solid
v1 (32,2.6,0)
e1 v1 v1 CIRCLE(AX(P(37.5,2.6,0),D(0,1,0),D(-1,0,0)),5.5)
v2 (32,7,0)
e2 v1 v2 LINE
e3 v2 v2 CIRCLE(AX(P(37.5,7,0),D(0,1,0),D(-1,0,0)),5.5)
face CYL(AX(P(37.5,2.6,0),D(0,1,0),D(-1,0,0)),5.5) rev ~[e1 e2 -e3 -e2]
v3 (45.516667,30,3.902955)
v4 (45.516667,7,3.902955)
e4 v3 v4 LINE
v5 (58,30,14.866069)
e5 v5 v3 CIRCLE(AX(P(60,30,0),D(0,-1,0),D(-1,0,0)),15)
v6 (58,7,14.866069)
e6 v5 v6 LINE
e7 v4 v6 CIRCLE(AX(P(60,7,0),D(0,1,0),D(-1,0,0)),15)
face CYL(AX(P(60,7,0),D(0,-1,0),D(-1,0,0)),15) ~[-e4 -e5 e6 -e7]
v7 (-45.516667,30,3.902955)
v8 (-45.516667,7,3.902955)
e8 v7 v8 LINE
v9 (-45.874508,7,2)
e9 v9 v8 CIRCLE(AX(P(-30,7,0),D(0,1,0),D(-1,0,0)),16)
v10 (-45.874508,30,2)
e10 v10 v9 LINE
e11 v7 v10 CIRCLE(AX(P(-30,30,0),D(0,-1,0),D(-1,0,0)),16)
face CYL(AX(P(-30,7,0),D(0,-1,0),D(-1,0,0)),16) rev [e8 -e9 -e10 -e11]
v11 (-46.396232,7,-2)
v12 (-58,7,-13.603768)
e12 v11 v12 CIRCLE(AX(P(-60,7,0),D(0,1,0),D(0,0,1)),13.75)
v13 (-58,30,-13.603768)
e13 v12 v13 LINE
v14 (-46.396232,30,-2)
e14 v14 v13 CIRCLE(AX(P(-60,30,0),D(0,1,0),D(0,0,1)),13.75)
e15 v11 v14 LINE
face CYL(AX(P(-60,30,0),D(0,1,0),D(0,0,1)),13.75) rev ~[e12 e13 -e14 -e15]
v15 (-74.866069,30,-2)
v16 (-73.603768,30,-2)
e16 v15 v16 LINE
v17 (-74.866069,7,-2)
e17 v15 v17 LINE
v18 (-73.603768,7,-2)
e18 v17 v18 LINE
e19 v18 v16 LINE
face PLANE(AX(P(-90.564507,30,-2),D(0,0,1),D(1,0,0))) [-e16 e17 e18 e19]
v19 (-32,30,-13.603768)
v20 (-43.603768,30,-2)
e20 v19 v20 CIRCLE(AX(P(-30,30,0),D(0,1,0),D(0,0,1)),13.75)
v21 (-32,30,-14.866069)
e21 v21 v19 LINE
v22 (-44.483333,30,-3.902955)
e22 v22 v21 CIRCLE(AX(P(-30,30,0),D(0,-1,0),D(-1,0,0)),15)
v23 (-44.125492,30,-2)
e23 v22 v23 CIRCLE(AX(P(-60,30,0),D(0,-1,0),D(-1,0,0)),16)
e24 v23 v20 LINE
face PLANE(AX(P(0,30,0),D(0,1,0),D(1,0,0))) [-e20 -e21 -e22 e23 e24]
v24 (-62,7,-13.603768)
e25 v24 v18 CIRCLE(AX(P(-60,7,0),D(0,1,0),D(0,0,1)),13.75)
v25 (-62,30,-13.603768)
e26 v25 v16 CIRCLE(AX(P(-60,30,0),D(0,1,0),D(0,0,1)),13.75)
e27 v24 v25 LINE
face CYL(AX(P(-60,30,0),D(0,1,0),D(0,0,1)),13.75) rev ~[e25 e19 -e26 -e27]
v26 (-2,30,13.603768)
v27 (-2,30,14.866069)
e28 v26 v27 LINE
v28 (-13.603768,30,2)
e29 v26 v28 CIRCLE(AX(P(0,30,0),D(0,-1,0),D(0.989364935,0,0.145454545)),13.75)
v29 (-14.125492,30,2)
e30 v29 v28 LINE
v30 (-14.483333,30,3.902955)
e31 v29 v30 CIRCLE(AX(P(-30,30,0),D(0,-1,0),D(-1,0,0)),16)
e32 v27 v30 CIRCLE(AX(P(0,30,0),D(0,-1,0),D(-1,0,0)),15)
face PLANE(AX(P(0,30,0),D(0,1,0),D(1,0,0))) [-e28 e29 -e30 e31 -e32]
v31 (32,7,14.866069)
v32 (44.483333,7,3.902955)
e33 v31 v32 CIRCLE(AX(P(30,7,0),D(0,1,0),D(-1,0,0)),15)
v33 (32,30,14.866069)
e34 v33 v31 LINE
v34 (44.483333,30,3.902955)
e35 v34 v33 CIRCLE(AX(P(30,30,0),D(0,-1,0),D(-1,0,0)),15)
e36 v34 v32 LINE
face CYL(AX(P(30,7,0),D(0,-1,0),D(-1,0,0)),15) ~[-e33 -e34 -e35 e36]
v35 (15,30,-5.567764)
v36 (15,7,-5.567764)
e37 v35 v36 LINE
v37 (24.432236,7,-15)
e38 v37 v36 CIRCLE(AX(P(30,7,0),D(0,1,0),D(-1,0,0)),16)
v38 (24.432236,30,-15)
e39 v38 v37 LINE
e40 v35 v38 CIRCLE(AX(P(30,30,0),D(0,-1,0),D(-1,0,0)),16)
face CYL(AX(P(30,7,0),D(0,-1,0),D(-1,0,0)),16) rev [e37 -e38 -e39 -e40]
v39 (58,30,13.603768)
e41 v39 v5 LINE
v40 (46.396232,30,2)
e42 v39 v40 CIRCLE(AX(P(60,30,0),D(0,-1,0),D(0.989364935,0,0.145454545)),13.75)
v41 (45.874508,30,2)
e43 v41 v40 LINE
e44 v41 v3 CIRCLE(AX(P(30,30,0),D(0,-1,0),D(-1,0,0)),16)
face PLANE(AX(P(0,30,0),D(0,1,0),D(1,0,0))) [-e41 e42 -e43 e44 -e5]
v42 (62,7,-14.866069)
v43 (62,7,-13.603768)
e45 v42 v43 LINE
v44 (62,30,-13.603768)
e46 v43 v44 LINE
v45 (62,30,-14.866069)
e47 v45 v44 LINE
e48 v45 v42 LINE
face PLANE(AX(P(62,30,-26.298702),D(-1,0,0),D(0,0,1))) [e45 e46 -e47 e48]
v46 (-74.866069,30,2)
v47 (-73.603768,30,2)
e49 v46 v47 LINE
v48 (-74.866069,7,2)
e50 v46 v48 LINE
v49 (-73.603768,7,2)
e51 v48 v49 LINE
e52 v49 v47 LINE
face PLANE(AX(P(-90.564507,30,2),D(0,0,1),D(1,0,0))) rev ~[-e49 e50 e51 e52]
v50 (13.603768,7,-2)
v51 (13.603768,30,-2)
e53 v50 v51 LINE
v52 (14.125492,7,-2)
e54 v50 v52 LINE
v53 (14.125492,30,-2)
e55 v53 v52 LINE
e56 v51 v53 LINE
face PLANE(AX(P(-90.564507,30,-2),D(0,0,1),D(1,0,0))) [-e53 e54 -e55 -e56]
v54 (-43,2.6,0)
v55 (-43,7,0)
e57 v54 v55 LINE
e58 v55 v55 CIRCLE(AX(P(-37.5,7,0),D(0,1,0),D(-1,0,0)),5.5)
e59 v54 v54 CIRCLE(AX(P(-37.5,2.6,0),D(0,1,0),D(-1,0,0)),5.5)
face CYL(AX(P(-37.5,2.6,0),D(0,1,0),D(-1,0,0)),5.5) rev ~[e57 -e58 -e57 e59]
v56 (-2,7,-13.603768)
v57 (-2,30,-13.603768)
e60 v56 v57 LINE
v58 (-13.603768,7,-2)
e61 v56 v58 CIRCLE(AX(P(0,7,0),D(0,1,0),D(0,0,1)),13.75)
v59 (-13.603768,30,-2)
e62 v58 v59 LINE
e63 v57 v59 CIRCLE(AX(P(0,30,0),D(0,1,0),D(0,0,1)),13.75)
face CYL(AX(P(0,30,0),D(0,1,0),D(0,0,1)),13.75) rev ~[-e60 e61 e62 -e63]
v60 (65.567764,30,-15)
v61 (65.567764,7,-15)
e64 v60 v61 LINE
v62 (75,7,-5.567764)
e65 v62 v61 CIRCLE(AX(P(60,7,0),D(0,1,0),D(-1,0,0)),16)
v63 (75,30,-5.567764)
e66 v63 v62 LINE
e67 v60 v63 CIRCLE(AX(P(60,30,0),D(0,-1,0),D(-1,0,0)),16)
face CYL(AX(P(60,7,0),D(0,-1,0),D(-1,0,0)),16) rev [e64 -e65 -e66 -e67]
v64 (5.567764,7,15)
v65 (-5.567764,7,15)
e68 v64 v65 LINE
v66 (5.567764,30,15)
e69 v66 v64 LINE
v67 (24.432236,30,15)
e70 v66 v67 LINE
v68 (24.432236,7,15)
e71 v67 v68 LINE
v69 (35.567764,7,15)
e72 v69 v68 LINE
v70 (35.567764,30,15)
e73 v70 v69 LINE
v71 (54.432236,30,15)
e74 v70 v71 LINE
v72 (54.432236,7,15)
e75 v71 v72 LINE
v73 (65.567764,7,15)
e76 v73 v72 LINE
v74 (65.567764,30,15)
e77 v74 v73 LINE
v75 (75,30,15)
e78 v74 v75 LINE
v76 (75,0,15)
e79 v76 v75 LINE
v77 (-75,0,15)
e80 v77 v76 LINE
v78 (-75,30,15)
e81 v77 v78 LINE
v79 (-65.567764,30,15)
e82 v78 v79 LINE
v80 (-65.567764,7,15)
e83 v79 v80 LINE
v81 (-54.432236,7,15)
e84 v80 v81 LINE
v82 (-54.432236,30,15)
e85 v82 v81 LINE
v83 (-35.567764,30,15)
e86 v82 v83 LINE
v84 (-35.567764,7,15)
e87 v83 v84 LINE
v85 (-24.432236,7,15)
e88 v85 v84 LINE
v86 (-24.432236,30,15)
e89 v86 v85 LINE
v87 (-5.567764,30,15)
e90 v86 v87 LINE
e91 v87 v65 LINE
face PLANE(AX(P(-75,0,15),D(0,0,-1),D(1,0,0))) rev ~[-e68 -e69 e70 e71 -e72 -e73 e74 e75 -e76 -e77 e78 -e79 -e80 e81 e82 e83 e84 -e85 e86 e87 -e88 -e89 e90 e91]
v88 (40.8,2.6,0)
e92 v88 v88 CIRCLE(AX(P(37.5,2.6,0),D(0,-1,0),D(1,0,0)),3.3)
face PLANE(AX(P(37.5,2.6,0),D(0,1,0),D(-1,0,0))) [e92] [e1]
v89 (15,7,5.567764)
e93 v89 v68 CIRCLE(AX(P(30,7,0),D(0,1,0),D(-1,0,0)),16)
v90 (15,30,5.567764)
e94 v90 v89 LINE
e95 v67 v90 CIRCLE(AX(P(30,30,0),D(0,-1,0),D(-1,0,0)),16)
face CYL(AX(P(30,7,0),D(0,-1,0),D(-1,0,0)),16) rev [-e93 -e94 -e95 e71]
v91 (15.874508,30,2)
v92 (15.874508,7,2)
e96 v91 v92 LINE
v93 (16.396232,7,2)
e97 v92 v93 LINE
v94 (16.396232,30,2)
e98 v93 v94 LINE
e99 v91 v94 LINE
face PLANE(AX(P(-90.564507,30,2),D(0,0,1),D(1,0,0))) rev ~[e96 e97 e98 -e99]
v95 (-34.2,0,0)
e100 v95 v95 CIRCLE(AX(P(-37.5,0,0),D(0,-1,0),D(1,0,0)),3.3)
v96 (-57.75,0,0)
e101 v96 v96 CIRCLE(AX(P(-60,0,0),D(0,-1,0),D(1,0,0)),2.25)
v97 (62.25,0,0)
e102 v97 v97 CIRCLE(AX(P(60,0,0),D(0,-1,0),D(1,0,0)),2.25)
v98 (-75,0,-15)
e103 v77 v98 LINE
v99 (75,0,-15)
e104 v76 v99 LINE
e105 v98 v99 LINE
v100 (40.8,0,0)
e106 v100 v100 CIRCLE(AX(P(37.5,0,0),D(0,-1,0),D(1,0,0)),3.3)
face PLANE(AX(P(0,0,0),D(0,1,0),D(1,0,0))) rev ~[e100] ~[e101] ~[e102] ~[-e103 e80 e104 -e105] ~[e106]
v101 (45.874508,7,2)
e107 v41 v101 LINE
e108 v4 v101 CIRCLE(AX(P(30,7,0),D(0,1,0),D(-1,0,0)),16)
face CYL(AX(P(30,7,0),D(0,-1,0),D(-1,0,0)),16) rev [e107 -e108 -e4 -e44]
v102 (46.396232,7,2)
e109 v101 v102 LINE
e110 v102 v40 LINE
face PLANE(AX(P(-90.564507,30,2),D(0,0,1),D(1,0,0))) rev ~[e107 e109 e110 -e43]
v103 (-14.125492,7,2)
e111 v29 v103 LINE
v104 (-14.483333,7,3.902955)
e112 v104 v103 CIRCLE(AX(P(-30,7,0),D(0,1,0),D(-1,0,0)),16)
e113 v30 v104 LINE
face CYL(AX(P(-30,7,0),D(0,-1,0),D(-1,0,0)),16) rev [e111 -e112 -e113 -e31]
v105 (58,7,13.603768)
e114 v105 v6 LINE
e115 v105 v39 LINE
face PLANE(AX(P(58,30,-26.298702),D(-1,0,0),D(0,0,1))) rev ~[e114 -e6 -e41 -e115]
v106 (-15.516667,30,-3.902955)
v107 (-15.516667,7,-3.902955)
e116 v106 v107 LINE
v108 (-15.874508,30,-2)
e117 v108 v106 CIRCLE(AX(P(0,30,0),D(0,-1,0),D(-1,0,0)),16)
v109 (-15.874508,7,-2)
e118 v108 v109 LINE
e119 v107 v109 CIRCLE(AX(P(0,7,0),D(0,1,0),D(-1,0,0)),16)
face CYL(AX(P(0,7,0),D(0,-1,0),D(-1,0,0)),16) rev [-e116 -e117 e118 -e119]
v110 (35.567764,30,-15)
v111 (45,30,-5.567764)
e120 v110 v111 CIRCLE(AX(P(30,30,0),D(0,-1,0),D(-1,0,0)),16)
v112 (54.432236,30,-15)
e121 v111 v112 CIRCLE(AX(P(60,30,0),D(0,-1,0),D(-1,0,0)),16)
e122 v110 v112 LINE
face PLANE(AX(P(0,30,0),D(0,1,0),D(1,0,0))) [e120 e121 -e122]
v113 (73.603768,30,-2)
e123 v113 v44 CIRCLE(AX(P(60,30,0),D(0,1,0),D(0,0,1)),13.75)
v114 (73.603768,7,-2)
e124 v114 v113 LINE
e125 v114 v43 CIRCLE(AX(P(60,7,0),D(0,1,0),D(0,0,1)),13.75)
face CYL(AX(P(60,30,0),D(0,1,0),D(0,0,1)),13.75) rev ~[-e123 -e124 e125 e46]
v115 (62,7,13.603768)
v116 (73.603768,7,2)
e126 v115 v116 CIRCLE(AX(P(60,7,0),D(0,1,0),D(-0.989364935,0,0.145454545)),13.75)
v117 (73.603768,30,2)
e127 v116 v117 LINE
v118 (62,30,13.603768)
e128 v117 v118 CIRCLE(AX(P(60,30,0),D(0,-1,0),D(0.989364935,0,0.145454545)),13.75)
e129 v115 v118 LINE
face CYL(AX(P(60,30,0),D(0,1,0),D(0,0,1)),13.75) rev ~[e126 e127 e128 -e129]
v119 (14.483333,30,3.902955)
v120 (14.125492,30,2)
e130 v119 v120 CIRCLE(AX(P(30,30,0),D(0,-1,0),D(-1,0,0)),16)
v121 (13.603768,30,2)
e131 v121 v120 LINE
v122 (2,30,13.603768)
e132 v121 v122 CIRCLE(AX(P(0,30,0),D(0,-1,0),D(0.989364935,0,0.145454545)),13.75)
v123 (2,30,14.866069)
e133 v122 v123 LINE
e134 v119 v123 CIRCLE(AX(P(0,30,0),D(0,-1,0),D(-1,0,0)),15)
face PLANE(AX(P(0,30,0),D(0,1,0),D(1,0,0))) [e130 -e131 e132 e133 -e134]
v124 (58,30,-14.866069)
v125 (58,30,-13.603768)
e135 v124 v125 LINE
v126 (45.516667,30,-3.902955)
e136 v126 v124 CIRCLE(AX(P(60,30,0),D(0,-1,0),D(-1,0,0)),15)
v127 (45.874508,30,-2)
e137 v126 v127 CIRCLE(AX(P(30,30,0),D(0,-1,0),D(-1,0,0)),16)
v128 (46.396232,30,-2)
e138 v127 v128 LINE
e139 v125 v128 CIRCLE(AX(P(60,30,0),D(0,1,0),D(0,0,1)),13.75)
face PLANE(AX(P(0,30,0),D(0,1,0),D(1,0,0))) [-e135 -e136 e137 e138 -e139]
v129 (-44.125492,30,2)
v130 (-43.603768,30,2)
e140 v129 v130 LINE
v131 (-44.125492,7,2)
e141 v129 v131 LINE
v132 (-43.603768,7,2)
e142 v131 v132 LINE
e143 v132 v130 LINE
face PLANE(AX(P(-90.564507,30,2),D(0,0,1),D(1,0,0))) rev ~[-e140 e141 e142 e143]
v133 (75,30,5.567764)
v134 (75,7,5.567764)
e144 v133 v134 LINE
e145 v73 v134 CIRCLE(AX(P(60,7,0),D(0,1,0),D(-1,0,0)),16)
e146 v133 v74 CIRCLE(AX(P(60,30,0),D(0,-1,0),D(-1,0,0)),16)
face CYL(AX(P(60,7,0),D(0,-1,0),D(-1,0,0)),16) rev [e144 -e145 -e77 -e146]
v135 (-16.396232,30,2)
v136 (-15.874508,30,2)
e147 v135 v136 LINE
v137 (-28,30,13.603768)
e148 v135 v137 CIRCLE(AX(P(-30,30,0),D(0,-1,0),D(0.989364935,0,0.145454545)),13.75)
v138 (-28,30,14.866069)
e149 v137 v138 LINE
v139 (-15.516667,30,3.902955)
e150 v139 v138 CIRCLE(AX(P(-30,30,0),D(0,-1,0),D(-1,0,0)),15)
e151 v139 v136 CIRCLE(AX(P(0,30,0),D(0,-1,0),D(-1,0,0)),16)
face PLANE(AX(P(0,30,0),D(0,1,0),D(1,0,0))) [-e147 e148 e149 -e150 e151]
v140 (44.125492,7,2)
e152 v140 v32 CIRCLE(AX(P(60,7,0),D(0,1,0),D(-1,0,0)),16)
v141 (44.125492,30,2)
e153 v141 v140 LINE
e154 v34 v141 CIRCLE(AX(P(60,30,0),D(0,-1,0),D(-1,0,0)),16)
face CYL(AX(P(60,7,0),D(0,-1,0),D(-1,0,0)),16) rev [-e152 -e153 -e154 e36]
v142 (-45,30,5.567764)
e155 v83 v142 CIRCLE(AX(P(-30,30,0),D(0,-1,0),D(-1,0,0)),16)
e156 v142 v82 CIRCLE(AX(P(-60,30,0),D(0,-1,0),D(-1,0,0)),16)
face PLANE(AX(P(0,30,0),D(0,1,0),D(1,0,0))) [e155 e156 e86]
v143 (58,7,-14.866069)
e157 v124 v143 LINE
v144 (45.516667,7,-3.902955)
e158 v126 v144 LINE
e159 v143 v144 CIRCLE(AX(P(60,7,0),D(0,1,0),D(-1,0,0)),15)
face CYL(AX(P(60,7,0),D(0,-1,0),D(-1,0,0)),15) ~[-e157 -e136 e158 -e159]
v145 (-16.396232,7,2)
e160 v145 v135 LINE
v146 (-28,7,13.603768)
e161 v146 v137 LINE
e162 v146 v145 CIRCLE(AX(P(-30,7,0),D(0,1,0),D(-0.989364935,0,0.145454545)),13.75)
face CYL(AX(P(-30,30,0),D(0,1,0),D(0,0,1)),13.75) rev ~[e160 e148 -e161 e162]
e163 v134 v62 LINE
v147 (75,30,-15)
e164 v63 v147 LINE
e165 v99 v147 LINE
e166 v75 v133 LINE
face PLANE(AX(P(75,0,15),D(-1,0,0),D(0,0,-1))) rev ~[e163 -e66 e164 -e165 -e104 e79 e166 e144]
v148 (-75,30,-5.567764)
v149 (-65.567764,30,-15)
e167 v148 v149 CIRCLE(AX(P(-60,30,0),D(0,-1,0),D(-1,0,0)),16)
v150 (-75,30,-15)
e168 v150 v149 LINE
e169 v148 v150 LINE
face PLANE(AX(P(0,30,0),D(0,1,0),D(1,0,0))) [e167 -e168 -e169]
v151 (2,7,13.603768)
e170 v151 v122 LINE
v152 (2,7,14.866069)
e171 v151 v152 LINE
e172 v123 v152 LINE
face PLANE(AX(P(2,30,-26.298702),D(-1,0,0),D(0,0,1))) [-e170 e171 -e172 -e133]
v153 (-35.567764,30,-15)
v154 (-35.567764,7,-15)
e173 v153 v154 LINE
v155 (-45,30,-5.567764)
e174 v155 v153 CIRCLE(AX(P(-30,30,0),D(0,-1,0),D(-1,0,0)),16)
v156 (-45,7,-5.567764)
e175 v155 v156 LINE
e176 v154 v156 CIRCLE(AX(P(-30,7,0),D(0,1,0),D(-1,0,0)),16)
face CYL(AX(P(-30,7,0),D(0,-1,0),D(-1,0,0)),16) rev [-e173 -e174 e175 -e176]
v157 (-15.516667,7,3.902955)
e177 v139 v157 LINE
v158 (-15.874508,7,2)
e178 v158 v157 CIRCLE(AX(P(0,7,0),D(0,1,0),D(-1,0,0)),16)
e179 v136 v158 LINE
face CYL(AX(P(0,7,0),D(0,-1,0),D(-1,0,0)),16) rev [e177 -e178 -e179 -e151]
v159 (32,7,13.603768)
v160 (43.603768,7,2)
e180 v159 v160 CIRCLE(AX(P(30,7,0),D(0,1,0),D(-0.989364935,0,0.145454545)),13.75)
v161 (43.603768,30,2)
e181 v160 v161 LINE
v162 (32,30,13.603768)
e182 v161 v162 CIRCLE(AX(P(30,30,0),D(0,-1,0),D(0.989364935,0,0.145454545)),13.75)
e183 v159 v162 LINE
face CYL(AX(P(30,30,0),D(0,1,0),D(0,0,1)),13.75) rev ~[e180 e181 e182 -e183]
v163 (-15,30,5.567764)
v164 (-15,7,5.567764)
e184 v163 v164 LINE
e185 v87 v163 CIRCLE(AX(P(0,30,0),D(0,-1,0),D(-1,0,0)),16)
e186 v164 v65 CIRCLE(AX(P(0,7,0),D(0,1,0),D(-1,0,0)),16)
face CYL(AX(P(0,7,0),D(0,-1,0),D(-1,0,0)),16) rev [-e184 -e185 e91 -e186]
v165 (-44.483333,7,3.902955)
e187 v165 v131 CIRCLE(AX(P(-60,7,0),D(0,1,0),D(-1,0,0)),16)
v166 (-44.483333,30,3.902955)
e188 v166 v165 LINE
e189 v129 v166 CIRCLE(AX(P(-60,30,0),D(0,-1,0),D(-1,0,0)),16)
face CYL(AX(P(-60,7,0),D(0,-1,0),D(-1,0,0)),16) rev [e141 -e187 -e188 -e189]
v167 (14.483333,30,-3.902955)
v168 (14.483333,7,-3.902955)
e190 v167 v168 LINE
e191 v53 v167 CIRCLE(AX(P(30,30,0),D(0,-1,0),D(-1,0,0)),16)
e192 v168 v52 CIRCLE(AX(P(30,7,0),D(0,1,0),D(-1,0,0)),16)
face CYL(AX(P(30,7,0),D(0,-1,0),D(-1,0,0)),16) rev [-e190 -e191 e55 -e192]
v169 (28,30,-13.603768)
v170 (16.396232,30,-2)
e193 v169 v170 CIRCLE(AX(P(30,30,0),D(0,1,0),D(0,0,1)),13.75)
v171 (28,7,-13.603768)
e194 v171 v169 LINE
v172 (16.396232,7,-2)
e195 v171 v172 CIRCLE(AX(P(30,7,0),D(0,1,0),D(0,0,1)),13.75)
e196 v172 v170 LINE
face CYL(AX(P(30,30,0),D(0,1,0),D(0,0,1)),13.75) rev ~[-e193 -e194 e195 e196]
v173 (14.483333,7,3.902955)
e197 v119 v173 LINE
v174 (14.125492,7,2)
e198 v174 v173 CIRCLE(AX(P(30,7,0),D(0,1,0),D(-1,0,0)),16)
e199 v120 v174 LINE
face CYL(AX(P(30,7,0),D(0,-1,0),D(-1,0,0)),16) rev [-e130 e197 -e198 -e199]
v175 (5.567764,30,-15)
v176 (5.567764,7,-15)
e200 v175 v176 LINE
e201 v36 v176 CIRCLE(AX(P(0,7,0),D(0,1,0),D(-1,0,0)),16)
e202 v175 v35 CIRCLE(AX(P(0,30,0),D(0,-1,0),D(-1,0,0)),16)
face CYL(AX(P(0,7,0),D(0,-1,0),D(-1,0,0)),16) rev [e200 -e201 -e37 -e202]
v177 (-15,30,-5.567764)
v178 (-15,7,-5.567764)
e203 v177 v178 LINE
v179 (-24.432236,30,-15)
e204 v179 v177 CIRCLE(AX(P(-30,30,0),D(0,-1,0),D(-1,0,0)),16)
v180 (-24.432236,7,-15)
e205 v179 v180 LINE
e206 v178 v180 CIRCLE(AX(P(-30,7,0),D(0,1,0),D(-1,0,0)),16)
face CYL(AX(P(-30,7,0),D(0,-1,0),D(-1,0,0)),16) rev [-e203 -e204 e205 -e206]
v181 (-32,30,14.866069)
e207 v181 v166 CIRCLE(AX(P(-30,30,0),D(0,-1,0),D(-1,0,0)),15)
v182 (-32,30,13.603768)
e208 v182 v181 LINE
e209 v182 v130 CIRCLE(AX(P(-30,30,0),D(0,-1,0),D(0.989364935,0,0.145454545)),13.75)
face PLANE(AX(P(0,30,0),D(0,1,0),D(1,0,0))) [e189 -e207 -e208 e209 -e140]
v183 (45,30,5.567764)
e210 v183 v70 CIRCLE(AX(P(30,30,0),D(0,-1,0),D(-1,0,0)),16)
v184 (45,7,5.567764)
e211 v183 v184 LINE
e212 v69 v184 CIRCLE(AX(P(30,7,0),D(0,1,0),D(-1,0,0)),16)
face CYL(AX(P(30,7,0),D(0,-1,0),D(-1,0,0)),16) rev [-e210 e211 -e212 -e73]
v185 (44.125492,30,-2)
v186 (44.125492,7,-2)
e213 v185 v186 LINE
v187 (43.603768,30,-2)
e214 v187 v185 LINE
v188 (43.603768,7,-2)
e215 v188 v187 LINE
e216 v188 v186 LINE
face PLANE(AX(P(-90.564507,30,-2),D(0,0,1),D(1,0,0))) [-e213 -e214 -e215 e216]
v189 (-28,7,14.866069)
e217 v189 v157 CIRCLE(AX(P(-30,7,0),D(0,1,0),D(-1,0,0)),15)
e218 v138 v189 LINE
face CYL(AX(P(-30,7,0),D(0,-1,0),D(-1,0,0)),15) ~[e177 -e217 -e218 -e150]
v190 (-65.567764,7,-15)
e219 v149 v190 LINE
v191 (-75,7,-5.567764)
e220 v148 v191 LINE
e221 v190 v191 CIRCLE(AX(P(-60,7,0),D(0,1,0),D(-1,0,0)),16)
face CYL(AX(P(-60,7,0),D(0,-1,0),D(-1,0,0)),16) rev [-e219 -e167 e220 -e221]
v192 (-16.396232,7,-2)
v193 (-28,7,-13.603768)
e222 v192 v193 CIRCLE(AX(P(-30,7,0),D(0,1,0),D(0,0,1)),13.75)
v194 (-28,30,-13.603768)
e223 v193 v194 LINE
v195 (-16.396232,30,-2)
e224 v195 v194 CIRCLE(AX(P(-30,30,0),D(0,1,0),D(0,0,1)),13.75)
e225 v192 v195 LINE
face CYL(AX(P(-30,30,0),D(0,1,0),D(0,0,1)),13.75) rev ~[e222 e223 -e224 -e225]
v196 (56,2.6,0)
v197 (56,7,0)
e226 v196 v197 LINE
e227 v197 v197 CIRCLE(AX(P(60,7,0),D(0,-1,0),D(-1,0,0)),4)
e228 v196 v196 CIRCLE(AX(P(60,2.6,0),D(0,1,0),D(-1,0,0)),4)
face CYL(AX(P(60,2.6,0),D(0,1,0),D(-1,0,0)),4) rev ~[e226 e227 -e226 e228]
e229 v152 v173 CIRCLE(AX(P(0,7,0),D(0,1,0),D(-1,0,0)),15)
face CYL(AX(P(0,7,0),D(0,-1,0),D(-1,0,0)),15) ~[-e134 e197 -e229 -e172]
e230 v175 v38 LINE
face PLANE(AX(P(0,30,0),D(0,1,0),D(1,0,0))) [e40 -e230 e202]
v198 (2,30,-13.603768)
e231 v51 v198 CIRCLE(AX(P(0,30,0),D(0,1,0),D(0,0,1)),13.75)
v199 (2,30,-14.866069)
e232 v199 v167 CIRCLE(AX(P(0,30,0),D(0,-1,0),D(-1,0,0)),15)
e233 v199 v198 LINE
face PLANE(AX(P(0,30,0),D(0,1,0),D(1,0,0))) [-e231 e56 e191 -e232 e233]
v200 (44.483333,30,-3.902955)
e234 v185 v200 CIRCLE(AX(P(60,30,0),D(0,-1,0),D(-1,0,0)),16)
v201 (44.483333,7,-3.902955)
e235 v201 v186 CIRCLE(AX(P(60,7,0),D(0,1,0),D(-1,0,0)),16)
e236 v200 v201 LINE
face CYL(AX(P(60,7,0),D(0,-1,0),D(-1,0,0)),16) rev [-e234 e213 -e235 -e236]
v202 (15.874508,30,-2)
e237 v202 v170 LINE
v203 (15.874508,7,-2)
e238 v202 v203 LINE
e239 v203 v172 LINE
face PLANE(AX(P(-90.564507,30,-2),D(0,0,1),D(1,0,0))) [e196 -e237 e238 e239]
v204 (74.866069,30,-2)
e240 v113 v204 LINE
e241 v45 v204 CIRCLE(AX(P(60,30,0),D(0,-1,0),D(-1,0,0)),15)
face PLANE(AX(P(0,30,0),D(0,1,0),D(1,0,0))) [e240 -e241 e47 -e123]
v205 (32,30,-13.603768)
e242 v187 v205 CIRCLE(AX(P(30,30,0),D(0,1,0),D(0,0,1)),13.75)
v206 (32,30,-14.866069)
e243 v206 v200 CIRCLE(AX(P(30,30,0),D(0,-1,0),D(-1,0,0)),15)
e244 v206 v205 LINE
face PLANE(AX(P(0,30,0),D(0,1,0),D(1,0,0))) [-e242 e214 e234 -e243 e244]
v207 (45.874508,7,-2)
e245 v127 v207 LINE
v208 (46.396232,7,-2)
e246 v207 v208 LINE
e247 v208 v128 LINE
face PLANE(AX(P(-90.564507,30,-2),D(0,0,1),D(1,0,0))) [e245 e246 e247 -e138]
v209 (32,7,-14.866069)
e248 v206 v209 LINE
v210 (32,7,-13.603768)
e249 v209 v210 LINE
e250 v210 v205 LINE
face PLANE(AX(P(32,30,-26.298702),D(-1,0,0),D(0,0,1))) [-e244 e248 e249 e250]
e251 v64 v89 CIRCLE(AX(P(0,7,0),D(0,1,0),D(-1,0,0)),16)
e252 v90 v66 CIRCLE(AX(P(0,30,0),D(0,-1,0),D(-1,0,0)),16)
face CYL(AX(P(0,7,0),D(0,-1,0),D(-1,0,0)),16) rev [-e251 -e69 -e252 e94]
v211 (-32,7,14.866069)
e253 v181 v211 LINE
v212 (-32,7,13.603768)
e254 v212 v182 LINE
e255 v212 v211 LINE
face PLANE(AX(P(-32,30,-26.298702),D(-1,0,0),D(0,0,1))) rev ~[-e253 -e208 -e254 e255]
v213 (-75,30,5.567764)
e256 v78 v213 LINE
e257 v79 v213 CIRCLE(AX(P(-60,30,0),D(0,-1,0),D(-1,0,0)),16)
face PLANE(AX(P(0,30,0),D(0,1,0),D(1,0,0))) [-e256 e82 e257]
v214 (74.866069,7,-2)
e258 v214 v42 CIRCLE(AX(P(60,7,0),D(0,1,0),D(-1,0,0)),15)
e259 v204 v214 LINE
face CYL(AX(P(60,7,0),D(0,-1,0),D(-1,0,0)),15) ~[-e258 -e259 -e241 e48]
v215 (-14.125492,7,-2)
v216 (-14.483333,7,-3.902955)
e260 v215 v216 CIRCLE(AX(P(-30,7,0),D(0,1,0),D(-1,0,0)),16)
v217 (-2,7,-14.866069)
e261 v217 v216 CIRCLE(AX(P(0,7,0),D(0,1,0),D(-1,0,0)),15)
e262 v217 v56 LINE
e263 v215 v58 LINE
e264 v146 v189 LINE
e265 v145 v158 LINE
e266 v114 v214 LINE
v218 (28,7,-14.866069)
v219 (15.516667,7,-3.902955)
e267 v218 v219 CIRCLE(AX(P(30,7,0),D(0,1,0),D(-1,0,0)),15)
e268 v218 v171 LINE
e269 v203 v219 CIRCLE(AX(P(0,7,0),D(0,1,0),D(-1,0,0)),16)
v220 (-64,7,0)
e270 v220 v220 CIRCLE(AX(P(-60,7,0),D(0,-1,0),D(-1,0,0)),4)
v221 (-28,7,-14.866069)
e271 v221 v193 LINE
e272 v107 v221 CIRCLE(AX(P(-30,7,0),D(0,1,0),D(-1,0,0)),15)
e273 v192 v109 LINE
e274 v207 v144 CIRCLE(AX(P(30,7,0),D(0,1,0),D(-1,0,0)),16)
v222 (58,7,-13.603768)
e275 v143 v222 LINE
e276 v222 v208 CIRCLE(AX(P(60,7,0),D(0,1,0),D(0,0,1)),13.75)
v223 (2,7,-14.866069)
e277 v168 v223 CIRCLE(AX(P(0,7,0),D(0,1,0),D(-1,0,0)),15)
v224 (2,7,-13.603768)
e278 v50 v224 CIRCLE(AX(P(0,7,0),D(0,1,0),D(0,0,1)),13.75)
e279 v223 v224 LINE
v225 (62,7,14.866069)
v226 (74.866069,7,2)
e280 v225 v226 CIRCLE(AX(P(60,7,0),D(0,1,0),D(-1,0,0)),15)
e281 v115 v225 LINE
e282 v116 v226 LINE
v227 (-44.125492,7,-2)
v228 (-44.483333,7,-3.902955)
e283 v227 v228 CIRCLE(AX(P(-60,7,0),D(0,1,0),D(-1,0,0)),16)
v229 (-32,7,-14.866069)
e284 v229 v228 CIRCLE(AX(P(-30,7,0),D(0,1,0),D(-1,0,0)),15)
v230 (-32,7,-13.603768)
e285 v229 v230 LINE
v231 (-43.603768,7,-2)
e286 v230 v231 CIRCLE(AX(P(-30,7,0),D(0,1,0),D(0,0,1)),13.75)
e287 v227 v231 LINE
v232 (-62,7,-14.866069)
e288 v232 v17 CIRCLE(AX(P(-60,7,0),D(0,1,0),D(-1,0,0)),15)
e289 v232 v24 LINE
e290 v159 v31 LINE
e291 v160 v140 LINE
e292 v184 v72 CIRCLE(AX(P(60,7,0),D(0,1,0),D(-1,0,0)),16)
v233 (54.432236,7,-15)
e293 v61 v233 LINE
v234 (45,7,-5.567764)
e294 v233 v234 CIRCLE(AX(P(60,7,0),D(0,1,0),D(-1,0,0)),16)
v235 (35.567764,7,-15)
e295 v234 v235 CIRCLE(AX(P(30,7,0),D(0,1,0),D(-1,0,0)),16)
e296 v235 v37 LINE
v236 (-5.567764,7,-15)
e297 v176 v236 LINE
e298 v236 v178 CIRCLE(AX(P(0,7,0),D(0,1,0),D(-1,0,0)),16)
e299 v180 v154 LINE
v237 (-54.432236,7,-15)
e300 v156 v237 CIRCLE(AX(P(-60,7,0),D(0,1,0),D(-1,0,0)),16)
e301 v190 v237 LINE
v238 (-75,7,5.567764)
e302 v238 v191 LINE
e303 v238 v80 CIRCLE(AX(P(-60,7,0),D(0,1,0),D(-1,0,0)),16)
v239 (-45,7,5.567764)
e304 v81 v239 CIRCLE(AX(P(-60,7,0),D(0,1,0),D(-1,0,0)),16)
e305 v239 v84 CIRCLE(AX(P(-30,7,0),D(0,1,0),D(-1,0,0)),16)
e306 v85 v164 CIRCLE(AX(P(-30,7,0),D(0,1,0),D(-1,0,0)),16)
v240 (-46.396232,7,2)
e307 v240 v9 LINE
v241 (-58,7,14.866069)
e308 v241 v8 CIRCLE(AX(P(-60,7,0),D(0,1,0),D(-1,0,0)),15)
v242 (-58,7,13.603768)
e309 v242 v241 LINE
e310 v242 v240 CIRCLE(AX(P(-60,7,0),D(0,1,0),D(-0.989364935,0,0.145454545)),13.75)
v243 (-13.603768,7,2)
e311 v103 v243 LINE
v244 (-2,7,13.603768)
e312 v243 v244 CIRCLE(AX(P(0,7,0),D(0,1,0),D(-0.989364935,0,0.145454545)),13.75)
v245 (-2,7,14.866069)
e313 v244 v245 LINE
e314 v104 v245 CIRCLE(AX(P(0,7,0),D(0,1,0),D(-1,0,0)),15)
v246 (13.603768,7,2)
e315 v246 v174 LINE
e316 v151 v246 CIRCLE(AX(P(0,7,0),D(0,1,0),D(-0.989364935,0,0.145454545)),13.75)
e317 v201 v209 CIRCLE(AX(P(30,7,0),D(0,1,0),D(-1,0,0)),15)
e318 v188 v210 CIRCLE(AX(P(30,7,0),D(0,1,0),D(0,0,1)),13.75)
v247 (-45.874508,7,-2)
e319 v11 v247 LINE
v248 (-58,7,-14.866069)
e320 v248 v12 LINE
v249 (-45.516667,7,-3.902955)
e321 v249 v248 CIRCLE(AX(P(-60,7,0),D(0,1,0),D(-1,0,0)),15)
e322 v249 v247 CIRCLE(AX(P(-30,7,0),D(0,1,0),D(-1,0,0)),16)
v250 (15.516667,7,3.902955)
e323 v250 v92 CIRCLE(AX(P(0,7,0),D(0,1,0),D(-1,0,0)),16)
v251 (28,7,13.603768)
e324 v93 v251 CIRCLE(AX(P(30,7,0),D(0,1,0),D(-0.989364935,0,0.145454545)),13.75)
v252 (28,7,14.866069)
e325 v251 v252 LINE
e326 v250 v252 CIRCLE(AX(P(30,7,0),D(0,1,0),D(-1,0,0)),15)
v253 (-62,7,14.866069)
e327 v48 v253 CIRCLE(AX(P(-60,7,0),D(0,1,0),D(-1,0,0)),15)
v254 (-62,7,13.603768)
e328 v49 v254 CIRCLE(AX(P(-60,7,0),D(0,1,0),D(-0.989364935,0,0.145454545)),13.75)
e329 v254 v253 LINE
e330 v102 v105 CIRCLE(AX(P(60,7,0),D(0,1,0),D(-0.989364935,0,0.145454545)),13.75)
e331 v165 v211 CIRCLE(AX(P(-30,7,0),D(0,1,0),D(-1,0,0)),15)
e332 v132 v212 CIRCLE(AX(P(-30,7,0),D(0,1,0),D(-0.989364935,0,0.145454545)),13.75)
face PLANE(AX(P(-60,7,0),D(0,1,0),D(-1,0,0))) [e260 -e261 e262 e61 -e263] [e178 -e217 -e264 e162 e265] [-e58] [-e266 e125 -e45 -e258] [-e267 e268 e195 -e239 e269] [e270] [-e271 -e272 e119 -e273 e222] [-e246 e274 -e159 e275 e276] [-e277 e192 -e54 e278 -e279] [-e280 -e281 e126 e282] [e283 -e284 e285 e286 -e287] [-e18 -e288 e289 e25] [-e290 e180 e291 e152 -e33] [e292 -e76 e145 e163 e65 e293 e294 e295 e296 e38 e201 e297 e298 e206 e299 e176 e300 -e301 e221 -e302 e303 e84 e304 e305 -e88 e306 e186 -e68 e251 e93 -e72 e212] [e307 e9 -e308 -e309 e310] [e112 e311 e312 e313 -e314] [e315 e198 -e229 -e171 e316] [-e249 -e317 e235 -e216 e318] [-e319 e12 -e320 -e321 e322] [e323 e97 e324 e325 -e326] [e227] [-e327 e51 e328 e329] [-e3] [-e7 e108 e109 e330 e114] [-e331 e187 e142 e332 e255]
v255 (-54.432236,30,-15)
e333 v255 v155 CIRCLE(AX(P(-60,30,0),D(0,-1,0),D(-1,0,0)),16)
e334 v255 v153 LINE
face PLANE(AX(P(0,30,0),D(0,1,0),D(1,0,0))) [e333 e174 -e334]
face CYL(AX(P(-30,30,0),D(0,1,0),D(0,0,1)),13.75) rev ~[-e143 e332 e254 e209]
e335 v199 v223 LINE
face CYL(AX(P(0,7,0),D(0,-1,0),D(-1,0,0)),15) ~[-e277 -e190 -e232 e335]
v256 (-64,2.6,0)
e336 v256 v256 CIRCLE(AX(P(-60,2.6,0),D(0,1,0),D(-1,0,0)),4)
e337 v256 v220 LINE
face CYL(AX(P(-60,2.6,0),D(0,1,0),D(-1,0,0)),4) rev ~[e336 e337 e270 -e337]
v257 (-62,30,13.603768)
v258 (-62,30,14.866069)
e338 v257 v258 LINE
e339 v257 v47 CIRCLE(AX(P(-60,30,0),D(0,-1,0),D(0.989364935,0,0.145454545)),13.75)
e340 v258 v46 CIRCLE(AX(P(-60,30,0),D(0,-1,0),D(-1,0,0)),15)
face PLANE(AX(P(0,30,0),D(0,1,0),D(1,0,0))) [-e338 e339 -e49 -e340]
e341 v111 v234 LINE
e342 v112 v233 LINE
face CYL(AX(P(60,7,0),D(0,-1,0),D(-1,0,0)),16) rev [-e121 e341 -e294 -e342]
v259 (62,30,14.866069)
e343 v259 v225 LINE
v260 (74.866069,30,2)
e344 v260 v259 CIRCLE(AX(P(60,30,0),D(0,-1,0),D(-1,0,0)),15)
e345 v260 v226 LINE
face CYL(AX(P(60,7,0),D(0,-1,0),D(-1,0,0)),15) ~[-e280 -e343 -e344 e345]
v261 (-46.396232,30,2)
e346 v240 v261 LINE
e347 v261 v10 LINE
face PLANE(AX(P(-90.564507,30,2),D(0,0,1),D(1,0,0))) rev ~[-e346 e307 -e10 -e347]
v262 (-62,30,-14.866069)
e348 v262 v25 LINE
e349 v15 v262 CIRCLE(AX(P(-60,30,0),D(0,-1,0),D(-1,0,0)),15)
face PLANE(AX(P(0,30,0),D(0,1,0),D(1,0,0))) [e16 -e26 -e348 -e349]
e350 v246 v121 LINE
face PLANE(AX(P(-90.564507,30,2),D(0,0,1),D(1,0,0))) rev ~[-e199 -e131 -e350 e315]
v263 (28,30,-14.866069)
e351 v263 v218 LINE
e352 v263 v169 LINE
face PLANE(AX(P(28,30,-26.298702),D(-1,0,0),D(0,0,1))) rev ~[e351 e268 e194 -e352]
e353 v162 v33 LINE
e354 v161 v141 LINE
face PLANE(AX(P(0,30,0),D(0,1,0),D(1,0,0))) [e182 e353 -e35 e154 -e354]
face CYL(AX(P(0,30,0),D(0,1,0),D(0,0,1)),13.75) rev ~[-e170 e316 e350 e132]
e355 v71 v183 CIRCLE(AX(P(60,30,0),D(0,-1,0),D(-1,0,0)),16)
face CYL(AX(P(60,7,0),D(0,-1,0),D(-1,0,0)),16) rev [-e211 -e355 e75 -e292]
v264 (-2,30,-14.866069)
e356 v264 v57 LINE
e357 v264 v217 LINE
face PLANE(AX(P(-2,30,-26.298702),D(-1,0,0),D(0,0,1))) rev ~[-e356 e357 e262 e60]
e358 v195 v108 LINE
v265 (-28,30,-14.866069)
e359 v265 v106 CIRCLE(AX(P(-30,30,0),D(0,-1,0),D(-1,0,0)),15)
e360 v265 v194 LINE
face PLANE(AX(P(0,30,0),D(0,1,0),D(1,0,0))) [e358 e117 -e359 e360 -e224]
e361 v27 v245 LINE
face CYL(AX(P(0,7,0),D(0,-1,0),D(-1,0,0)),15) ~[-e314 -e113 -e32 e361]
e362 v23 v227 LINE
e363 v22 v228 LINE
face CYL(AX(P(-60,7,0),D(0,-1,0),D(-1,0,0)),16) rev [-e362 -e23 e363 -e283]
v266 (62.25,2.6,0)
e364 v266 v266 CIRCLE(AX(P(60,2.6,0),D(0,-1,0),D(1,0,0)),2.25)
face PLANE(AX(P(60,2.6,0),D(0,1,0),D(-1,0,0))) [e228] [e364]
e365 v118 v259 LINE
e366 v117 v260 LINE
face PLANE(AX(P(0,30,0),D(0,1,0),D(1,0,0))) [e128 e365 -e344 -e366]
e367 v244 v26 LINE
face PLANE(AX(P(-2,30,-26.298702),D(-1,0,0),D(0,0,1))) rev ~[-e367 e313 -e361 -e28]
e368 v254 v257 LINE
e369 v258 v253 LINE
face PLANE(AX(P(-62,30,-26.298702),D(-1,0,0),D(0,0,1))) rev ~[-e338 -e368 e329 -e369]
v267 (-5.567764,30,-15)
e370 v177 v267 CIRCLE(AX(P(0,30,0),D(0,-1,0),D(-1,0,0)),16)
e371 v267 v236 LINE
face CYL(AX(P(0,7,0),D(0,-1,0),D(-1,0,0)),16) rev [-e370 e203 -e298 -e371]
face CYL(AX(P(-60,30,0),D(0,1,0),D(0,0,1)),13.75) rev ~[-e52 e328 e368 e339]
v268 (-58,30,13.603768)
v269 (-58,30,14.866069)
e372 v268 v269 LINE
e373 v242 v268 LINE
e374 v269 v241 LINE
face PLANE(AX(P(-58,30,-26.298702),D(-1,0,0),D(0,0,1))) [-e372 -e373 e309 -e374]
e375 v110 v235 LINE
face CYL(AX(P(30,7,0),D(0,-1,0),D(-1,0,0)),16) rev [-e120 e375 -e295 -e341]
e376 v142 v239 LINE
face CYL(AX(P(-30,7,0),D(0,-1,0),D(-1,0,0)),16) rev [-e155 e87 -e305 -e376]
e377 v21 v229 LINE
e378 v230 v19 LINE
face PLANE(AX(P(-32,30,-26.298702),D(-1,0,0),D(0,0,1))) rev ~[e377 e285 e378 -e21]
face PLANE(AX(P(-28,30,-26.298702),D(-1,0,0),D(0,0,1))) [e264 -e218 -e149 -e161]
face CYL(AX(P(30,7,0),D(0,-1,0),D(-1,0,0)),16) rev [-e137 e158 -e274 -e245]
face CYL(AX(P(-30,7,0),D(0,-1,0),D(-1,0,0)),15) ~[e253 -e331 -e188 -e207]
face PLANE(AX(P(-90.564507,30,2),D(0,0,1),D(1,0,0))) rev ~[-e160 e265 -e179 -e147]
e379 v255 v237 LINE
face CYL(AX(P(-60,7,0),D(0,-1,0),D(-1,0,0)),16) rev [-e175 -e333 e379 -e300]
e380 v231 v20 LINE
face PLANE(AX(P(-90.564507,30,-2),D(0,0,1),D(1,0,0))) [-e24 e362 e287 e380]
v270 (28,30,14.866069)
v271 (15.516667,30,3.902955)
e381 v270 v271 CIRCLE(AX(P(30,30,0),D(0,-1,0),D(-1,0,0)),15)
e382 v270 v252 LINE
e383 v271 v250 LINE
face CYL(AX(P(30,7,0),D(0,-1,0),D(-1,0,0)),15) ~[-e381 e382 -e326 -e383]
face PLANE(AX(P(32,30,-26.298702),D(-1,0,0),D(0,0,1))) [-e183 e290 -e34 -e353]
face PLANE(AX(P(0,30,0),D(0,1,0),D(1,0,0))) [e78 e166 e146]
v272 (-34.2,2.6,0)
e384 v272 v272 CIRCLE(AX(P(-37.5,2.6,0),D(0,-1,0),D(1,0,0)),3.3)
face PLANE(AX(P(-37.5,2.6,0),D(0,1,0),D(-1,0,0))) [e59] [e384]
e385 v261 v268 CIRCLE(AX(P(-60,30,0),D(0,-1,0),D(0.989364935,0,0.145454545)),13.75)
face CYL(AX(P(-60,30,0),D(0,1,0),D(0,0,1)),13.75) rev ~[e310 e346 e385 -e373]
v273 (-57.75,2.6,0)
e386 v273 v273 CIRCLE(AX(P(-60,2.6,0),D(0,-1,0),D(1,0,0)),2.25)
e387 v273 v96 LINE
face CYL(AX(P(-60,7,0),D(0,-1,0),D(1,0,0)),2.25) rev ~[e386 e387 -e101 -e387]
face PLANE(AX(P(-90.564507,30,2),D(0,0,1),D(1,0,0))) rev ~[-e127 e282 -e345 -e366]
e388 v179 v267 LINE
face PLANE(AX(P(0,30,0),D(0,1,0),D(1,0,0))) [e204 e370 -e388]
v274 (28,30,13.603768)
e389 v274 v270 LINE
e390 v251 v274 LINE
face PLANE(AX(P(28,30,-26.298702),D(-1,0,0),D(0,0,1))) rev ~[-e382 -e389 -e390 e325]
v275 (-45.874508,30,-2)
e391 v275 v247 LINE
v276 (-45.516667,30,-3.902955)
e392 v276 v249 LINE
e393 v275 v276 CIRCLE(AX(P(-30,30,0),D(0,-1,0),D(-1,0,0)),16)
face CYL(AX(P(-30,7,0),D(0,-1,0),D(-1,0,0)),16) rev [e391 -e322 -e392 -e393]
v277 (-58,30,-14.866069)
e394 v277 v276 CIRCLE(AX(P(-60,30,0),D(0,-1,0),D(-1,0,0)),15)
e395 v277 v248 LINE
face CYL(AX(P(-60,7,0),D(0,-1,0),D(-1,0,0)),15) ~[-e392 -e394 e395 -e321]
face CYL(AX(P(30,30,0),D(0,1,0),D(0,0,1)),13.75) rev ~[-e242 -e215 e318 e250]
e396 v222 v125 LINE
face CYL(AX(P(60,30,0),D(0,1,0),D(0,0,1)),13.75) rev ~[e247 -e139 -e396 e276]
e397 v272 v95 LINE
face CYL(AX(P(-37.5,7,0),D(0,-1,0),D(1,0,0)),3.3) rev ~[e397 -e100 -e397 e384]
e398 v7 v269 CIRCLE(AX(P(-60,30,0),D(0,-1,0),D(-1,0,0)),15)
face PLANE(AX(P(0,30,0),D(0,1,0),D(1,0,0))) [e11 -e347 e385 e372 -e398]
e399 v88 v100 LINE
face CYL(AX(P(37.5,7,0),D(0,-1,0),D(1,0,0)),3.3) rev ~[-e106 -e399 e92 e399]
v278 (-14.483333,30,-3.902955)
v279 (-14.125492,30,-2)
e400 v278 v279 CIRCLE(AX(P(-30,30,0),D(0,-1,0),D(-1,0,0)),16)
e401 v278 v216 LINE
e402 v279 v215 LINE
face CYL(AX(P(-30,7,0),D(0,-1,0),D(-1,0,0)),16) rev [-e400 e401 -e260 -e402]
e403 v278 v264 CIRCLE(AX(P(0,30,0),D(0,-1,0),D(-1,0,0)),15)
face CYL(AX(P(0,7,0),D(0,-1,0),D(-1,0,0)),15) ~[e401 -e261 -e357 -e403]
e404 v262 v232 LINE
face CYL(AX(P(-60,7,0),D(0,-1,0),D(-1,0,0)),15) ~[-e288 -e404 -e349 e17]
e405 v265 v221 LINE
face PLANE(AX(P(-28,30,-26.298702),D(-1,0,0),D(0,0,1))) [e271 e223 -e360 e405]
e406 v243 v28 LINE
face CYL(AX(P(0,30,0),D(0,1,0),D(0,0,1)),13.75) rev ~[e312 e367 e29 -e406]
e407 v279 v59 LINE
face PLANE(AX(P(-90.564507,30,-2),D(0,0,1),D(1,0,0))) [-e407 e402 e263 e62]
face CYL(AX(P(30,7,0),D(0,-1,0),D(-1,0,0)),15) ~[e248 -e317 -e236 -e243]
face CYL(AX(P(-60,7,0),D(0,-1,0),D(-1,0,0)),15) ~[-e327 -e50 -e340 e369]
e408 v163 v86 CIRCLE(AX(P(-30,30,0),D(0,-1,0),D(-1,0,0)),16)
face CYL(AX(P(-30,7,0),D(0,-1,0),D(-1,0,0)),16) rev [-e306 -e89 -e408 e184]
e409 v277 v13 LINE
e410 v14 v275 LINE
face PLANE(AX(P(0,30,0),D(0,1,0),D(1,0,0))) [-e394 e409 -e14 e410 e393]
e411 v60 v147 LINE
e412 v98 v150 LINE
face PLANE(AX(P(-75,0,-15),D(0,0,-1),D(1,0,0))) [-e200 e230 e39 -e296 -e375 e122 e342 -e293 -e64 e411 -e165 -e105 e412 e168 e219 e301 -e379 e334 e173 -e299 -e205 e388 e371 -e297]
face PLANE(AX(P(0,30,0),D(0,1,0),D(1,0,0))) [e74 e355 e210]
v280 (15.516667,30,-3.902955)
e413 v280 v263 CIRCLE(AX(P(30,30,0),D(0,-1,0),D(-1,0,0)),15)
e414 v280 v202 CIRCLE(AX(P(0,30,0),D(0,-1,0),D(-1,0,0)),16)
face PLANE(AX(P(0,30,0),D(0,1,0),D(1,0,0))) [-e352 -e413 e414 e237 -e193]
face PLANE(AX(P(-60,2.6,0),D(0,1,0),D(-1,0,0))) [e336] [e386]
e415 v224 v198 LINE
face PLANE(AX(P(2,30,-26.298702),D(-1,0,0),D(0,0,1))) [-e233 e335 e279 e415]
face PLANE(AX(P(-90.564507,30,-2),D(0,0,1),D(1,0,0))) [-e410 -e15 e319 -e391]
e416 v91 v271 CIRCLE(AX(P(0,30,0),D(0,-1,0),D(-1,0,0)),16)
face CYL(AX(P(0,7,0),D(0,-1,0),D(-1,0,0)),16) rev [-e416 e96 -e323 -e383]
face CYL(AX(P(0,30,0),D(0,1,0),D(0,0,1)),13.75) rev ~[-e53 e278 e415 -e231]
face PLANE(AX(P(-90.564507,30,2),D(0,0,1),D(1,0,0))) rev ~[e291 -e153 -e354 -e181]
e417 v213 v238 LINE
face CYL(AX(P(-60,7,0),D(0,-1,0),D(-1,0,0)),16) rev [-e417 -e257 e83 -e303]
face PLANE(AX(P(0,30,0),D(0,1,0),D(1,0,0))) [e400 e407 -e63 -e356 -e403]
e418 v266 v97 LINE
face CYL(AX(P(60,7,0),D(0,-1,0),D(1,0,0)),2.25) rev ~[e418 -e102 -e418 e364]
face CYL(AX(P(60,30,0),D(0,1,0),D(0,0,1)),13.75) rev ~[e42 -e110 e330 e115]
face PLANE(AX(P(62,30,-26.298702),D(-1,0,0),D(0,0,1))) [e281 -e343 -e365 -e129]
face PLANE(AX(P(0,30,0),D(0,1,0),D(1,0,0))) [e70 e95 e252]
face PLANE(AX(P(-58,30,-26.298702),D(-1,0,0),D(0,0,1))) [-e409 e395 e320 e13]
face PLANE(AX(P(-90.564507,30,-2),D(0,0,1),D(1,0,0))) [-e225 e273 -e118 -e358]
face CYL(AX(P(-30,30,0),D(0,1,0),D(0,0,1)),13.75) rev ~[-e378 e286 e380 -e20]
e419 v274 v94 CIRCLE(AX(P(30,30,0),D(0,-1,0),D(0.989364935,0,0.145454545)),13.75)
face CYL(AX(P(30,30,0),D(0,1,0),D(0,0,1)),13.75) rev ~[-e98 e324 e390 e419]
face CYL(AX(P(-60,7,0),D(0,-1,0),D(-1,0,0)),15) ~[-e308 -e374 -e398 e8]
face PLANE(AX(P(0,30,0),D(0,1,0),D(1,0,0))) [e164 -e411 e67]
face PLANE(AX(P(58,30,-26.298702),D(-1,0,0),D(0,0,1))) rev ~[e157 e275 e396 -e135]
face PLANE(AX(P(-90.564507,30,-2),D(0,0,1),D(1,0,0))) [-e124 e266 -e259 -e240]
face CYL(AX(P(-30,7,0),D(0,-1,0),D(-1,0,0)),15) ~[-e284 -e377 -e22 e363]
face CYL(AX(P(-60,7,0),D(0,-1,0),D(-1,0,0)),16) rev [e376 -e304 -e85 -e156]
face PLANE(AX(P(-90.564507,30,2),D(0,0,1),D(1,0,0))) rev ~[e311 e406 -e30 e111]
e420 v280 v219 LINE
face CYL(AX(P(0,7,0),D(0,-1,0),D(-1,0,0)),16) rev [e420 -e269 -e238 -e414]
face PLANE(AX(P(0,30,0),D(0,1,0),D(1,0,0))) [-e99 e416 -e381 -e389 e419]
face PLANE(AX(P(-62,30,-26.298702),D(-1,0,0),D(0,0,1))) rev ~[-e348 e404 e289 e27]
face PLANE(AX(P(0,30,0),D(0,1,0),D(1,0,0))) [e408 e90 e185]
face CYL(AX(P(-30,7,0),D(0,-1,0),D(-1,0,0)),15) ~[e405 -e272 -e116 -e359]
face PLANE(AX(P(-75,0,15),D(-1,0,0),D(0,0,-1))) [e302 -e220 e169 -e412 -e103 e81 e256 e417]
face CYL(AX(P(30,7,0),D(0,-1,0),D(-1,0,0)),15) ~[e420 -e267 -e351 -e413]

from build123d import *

# Parameters (mm, degrees)
SKETCH2_W                                           = 150
SKETCH2_H                                           = 30
BOSS_EXTRUDE1_DEPTH                                 = 30
SKETCH3_R                                           = 13.75
CUT_EXTRUDE1_DEPTH                                  = 23
LPATTERN1_COUNT                                     = 5
LPATTERN1_PITCH                                     = 30
CBORE_FOR_M4_HEX_SOCKET_HEAD_CAP_SCREW1_D           = 4.5
CBORE_FOR_M4_HEX_SOCKET_HEAD_CAP_SCREW1_CBORE_D     = 8
CBORE_FOR_M4_HEX_SOCKET_HEAD_CAP_SCREW1_CBORE_DEPTH = 4.4
LPATTERN2_COUNT                                     = 2
LPATTERN2_PITCH                                     = 120
SKETCH7_W                                           = 181.12901383
SKETCH7_H                                           = 4
CUT_EXTRUDE3_DEPTH                                  = 23
SKETCH8_W                                           = 4
SKETCH8_H                                           = 50
CUT_EXTRUDE4_DEPTH                                  = 23
SKIZZE1_R                                           = 16
SKIZZE1_R_2                                         = 15
SCHNITT_LINEAR_AUSTRAGEN1_DEPTH                     = 80.868642157
LPATTERN3_COUNT                                     = 5
LPATTERN3_PITCH                                     = 30
CBORE_FOR_M6_HEX_SOCKET_HEAD_CAP_SCREW1_D           = 6.6
CBORE_FOR_M6_HEX_SOCKET_HEAD_CAP_SCREW1_CBORE_D     = 11
CBORE_FOR_M6_HEX_SOCKET_HEAD_CAP_SCREW1_CBORE_DEPTH = 4.4
LPATTERN4_COUNT                                     = 2
LPATTERN4_PITCH                                     = 75


with BuildPart() as part:
    # Sketch2 → Boss-Extrude1 (new body)
    with BuildSketch(Plane(origin=(0, 0, 0), x_dir=(1, 0, 0), z_dir=(0, 1, 0))):
        Rectangle(SKETCH2_W, SKETCH2_H)
    extrude(amount=BOSS_EXTRUDE1_DEPTH)

    # Sketch3 → Cut-Extrude1 (cut)
    with BuildSketch(Plane(origin=(0, 30, 0), x_dir=(1, 0, 0), z_dir=(0, 1, 0))):
        with Locations(Location((-60, 0, 0), (0, 0, 270))):
            Circle(SKETCH3_R)
    cut_extrude1 = extrude(amount=-CUT_EXTRUDE1_DEPTH, mode=Mode.SUBTRACT)

    # LPattern1: Cut-Extrude1 ×5
    with Locations(*[(i * LPATTERN1_PITCH, 0, 0) for i in range(1, LPATTERN1_COUNT)]):
        add(cut_extrude1, mode=Mode.SUBTRACT)

    # CBORE for M4 Hex Socket Head Cap Screw1 (through all)
    with Locations(Plane(origin=(0, 7, 0), x_dir=(-1, 0, 0), z_dir=(0, 1, 0))):
        with Locations((60, 0)):
            cbore_for_m4_hex_socket_head_cap_screw1 = CounterBoreHole(CBORE_FOR_M4_HEX_SOCKET_HEAD_CAP_SCREW1_D / 2, CBORE_FOR_M4_HEX_SOCKET_HEAD_CAP_SCREW1_CBORE_D / 2, CBORE_FOR_M4_HEX_SOCKET_HEAD_CAP_SCREW1_CBORE_DEPTH)

    # LPattern2: CBORE for M4 Hex Socket Head Cap Screw1 ×2
    with Locations(*[(i * LPATTERN2_PITCH, 0, 0) for i in range(1, LPATTERN2_COUNT)]):
        add(cbore_for_m4_hex_socket_head_cap_screw1, mode=Mode.SUBTRACT)

    # Sketch7 → Cut-Extrude3 (cut)
    with BuildSketch(Plane(origin=(0, 30, 0), x_dir=(1, 0, 0), z_dir=(0, 1, 0))):
        Rectangle(SKETCH7_W, SKETCH7_H)
    extrude(amount=-CUT_EXTRUDE3_DEPTH, mode=Mode.SUBTRACT)

    # Sketch8 → Cut-Extrude4 (cut)
    with BuildSketch(Plane(origin=(0, 30, 0), x_dir=(-1, 0, 0), z_dir=(0, 1, 0))):
        with Locations((60, -1.298701607)):
            Rectangle(SKETCH8_W, SKETCH8_H)
    cut_extrude4 = extrude(amount=-CUT_EXTRUDE4_DEPTH, mode=Mode.SUBTRACT)

    # Skizze1 → Schnitt-Linear austragen1 (cut, through all)
    with BuildSketch(Plane(origin=(0, 7, 0), x_dir=(-1, 0, 0), z_dir=(0, 1, 0))):
        with Locations((60, 0)):
            Circle(SKIZZE1_R)
        with Locations((60, 0)):
            Circle(SKIZZE1_R_2, mode=Mode.SUBTRACT)
    schnitt_linear_austragen1 = extrude(amount=SCHNITT_LINEAR_AUSTRAGEN1_DEPTH, mode=Mode.SUBTRACT)

    # LPattern3: Cut-Extrude4, Schnitt-Linear austragen1 ×5
    with Locations(*[(i * LPATTERN3_PITCH, 0, 0) for i in range(1, LPATTERN3_COUNT)]):
        add(cut_extrude4, mode=Mode.SUBTRACT)
        add(schnitt_linear_austragen1, mode=Mode.SUBTRACT)

    # CBORE for M6 Hex Socket Head Cap Screw1 (through all)
    with Locations(Plane(origin=(0, 7, 0), x_dir=(-1, 0, 0), z_dir=(0, 1, 0))):
        with Locations((37.5, 0)):
            cbore_for_m6_hex_socket_head_cap_screw1 = CounterBoreHole(CBORE_FOR_M6_HEX_SOCKET_HEAD_CAP_SCREW1_D / 2, CBORE_FOR_M6_HEX_SOCKET_HEAD_CAP_SCREW1_CBORE_D / 2, CBORE_FOR_M6_HEX_SOCKET_HEAD_CAP_SCREW1_CBORE_DEPTH)

    # LPattern4: CBORE for M6 Hex Socket Head Cap Screw1 ×2
    with Locations(*[(i * LPATTERN4_PITCH, 0, 0) for i in range(1, LPATTERN4_COUNT)]):
        add(cbore_for_m6_hex_socket_head_cap_screw1, mode=Mode.SUBTRACT)


solid = part.part
